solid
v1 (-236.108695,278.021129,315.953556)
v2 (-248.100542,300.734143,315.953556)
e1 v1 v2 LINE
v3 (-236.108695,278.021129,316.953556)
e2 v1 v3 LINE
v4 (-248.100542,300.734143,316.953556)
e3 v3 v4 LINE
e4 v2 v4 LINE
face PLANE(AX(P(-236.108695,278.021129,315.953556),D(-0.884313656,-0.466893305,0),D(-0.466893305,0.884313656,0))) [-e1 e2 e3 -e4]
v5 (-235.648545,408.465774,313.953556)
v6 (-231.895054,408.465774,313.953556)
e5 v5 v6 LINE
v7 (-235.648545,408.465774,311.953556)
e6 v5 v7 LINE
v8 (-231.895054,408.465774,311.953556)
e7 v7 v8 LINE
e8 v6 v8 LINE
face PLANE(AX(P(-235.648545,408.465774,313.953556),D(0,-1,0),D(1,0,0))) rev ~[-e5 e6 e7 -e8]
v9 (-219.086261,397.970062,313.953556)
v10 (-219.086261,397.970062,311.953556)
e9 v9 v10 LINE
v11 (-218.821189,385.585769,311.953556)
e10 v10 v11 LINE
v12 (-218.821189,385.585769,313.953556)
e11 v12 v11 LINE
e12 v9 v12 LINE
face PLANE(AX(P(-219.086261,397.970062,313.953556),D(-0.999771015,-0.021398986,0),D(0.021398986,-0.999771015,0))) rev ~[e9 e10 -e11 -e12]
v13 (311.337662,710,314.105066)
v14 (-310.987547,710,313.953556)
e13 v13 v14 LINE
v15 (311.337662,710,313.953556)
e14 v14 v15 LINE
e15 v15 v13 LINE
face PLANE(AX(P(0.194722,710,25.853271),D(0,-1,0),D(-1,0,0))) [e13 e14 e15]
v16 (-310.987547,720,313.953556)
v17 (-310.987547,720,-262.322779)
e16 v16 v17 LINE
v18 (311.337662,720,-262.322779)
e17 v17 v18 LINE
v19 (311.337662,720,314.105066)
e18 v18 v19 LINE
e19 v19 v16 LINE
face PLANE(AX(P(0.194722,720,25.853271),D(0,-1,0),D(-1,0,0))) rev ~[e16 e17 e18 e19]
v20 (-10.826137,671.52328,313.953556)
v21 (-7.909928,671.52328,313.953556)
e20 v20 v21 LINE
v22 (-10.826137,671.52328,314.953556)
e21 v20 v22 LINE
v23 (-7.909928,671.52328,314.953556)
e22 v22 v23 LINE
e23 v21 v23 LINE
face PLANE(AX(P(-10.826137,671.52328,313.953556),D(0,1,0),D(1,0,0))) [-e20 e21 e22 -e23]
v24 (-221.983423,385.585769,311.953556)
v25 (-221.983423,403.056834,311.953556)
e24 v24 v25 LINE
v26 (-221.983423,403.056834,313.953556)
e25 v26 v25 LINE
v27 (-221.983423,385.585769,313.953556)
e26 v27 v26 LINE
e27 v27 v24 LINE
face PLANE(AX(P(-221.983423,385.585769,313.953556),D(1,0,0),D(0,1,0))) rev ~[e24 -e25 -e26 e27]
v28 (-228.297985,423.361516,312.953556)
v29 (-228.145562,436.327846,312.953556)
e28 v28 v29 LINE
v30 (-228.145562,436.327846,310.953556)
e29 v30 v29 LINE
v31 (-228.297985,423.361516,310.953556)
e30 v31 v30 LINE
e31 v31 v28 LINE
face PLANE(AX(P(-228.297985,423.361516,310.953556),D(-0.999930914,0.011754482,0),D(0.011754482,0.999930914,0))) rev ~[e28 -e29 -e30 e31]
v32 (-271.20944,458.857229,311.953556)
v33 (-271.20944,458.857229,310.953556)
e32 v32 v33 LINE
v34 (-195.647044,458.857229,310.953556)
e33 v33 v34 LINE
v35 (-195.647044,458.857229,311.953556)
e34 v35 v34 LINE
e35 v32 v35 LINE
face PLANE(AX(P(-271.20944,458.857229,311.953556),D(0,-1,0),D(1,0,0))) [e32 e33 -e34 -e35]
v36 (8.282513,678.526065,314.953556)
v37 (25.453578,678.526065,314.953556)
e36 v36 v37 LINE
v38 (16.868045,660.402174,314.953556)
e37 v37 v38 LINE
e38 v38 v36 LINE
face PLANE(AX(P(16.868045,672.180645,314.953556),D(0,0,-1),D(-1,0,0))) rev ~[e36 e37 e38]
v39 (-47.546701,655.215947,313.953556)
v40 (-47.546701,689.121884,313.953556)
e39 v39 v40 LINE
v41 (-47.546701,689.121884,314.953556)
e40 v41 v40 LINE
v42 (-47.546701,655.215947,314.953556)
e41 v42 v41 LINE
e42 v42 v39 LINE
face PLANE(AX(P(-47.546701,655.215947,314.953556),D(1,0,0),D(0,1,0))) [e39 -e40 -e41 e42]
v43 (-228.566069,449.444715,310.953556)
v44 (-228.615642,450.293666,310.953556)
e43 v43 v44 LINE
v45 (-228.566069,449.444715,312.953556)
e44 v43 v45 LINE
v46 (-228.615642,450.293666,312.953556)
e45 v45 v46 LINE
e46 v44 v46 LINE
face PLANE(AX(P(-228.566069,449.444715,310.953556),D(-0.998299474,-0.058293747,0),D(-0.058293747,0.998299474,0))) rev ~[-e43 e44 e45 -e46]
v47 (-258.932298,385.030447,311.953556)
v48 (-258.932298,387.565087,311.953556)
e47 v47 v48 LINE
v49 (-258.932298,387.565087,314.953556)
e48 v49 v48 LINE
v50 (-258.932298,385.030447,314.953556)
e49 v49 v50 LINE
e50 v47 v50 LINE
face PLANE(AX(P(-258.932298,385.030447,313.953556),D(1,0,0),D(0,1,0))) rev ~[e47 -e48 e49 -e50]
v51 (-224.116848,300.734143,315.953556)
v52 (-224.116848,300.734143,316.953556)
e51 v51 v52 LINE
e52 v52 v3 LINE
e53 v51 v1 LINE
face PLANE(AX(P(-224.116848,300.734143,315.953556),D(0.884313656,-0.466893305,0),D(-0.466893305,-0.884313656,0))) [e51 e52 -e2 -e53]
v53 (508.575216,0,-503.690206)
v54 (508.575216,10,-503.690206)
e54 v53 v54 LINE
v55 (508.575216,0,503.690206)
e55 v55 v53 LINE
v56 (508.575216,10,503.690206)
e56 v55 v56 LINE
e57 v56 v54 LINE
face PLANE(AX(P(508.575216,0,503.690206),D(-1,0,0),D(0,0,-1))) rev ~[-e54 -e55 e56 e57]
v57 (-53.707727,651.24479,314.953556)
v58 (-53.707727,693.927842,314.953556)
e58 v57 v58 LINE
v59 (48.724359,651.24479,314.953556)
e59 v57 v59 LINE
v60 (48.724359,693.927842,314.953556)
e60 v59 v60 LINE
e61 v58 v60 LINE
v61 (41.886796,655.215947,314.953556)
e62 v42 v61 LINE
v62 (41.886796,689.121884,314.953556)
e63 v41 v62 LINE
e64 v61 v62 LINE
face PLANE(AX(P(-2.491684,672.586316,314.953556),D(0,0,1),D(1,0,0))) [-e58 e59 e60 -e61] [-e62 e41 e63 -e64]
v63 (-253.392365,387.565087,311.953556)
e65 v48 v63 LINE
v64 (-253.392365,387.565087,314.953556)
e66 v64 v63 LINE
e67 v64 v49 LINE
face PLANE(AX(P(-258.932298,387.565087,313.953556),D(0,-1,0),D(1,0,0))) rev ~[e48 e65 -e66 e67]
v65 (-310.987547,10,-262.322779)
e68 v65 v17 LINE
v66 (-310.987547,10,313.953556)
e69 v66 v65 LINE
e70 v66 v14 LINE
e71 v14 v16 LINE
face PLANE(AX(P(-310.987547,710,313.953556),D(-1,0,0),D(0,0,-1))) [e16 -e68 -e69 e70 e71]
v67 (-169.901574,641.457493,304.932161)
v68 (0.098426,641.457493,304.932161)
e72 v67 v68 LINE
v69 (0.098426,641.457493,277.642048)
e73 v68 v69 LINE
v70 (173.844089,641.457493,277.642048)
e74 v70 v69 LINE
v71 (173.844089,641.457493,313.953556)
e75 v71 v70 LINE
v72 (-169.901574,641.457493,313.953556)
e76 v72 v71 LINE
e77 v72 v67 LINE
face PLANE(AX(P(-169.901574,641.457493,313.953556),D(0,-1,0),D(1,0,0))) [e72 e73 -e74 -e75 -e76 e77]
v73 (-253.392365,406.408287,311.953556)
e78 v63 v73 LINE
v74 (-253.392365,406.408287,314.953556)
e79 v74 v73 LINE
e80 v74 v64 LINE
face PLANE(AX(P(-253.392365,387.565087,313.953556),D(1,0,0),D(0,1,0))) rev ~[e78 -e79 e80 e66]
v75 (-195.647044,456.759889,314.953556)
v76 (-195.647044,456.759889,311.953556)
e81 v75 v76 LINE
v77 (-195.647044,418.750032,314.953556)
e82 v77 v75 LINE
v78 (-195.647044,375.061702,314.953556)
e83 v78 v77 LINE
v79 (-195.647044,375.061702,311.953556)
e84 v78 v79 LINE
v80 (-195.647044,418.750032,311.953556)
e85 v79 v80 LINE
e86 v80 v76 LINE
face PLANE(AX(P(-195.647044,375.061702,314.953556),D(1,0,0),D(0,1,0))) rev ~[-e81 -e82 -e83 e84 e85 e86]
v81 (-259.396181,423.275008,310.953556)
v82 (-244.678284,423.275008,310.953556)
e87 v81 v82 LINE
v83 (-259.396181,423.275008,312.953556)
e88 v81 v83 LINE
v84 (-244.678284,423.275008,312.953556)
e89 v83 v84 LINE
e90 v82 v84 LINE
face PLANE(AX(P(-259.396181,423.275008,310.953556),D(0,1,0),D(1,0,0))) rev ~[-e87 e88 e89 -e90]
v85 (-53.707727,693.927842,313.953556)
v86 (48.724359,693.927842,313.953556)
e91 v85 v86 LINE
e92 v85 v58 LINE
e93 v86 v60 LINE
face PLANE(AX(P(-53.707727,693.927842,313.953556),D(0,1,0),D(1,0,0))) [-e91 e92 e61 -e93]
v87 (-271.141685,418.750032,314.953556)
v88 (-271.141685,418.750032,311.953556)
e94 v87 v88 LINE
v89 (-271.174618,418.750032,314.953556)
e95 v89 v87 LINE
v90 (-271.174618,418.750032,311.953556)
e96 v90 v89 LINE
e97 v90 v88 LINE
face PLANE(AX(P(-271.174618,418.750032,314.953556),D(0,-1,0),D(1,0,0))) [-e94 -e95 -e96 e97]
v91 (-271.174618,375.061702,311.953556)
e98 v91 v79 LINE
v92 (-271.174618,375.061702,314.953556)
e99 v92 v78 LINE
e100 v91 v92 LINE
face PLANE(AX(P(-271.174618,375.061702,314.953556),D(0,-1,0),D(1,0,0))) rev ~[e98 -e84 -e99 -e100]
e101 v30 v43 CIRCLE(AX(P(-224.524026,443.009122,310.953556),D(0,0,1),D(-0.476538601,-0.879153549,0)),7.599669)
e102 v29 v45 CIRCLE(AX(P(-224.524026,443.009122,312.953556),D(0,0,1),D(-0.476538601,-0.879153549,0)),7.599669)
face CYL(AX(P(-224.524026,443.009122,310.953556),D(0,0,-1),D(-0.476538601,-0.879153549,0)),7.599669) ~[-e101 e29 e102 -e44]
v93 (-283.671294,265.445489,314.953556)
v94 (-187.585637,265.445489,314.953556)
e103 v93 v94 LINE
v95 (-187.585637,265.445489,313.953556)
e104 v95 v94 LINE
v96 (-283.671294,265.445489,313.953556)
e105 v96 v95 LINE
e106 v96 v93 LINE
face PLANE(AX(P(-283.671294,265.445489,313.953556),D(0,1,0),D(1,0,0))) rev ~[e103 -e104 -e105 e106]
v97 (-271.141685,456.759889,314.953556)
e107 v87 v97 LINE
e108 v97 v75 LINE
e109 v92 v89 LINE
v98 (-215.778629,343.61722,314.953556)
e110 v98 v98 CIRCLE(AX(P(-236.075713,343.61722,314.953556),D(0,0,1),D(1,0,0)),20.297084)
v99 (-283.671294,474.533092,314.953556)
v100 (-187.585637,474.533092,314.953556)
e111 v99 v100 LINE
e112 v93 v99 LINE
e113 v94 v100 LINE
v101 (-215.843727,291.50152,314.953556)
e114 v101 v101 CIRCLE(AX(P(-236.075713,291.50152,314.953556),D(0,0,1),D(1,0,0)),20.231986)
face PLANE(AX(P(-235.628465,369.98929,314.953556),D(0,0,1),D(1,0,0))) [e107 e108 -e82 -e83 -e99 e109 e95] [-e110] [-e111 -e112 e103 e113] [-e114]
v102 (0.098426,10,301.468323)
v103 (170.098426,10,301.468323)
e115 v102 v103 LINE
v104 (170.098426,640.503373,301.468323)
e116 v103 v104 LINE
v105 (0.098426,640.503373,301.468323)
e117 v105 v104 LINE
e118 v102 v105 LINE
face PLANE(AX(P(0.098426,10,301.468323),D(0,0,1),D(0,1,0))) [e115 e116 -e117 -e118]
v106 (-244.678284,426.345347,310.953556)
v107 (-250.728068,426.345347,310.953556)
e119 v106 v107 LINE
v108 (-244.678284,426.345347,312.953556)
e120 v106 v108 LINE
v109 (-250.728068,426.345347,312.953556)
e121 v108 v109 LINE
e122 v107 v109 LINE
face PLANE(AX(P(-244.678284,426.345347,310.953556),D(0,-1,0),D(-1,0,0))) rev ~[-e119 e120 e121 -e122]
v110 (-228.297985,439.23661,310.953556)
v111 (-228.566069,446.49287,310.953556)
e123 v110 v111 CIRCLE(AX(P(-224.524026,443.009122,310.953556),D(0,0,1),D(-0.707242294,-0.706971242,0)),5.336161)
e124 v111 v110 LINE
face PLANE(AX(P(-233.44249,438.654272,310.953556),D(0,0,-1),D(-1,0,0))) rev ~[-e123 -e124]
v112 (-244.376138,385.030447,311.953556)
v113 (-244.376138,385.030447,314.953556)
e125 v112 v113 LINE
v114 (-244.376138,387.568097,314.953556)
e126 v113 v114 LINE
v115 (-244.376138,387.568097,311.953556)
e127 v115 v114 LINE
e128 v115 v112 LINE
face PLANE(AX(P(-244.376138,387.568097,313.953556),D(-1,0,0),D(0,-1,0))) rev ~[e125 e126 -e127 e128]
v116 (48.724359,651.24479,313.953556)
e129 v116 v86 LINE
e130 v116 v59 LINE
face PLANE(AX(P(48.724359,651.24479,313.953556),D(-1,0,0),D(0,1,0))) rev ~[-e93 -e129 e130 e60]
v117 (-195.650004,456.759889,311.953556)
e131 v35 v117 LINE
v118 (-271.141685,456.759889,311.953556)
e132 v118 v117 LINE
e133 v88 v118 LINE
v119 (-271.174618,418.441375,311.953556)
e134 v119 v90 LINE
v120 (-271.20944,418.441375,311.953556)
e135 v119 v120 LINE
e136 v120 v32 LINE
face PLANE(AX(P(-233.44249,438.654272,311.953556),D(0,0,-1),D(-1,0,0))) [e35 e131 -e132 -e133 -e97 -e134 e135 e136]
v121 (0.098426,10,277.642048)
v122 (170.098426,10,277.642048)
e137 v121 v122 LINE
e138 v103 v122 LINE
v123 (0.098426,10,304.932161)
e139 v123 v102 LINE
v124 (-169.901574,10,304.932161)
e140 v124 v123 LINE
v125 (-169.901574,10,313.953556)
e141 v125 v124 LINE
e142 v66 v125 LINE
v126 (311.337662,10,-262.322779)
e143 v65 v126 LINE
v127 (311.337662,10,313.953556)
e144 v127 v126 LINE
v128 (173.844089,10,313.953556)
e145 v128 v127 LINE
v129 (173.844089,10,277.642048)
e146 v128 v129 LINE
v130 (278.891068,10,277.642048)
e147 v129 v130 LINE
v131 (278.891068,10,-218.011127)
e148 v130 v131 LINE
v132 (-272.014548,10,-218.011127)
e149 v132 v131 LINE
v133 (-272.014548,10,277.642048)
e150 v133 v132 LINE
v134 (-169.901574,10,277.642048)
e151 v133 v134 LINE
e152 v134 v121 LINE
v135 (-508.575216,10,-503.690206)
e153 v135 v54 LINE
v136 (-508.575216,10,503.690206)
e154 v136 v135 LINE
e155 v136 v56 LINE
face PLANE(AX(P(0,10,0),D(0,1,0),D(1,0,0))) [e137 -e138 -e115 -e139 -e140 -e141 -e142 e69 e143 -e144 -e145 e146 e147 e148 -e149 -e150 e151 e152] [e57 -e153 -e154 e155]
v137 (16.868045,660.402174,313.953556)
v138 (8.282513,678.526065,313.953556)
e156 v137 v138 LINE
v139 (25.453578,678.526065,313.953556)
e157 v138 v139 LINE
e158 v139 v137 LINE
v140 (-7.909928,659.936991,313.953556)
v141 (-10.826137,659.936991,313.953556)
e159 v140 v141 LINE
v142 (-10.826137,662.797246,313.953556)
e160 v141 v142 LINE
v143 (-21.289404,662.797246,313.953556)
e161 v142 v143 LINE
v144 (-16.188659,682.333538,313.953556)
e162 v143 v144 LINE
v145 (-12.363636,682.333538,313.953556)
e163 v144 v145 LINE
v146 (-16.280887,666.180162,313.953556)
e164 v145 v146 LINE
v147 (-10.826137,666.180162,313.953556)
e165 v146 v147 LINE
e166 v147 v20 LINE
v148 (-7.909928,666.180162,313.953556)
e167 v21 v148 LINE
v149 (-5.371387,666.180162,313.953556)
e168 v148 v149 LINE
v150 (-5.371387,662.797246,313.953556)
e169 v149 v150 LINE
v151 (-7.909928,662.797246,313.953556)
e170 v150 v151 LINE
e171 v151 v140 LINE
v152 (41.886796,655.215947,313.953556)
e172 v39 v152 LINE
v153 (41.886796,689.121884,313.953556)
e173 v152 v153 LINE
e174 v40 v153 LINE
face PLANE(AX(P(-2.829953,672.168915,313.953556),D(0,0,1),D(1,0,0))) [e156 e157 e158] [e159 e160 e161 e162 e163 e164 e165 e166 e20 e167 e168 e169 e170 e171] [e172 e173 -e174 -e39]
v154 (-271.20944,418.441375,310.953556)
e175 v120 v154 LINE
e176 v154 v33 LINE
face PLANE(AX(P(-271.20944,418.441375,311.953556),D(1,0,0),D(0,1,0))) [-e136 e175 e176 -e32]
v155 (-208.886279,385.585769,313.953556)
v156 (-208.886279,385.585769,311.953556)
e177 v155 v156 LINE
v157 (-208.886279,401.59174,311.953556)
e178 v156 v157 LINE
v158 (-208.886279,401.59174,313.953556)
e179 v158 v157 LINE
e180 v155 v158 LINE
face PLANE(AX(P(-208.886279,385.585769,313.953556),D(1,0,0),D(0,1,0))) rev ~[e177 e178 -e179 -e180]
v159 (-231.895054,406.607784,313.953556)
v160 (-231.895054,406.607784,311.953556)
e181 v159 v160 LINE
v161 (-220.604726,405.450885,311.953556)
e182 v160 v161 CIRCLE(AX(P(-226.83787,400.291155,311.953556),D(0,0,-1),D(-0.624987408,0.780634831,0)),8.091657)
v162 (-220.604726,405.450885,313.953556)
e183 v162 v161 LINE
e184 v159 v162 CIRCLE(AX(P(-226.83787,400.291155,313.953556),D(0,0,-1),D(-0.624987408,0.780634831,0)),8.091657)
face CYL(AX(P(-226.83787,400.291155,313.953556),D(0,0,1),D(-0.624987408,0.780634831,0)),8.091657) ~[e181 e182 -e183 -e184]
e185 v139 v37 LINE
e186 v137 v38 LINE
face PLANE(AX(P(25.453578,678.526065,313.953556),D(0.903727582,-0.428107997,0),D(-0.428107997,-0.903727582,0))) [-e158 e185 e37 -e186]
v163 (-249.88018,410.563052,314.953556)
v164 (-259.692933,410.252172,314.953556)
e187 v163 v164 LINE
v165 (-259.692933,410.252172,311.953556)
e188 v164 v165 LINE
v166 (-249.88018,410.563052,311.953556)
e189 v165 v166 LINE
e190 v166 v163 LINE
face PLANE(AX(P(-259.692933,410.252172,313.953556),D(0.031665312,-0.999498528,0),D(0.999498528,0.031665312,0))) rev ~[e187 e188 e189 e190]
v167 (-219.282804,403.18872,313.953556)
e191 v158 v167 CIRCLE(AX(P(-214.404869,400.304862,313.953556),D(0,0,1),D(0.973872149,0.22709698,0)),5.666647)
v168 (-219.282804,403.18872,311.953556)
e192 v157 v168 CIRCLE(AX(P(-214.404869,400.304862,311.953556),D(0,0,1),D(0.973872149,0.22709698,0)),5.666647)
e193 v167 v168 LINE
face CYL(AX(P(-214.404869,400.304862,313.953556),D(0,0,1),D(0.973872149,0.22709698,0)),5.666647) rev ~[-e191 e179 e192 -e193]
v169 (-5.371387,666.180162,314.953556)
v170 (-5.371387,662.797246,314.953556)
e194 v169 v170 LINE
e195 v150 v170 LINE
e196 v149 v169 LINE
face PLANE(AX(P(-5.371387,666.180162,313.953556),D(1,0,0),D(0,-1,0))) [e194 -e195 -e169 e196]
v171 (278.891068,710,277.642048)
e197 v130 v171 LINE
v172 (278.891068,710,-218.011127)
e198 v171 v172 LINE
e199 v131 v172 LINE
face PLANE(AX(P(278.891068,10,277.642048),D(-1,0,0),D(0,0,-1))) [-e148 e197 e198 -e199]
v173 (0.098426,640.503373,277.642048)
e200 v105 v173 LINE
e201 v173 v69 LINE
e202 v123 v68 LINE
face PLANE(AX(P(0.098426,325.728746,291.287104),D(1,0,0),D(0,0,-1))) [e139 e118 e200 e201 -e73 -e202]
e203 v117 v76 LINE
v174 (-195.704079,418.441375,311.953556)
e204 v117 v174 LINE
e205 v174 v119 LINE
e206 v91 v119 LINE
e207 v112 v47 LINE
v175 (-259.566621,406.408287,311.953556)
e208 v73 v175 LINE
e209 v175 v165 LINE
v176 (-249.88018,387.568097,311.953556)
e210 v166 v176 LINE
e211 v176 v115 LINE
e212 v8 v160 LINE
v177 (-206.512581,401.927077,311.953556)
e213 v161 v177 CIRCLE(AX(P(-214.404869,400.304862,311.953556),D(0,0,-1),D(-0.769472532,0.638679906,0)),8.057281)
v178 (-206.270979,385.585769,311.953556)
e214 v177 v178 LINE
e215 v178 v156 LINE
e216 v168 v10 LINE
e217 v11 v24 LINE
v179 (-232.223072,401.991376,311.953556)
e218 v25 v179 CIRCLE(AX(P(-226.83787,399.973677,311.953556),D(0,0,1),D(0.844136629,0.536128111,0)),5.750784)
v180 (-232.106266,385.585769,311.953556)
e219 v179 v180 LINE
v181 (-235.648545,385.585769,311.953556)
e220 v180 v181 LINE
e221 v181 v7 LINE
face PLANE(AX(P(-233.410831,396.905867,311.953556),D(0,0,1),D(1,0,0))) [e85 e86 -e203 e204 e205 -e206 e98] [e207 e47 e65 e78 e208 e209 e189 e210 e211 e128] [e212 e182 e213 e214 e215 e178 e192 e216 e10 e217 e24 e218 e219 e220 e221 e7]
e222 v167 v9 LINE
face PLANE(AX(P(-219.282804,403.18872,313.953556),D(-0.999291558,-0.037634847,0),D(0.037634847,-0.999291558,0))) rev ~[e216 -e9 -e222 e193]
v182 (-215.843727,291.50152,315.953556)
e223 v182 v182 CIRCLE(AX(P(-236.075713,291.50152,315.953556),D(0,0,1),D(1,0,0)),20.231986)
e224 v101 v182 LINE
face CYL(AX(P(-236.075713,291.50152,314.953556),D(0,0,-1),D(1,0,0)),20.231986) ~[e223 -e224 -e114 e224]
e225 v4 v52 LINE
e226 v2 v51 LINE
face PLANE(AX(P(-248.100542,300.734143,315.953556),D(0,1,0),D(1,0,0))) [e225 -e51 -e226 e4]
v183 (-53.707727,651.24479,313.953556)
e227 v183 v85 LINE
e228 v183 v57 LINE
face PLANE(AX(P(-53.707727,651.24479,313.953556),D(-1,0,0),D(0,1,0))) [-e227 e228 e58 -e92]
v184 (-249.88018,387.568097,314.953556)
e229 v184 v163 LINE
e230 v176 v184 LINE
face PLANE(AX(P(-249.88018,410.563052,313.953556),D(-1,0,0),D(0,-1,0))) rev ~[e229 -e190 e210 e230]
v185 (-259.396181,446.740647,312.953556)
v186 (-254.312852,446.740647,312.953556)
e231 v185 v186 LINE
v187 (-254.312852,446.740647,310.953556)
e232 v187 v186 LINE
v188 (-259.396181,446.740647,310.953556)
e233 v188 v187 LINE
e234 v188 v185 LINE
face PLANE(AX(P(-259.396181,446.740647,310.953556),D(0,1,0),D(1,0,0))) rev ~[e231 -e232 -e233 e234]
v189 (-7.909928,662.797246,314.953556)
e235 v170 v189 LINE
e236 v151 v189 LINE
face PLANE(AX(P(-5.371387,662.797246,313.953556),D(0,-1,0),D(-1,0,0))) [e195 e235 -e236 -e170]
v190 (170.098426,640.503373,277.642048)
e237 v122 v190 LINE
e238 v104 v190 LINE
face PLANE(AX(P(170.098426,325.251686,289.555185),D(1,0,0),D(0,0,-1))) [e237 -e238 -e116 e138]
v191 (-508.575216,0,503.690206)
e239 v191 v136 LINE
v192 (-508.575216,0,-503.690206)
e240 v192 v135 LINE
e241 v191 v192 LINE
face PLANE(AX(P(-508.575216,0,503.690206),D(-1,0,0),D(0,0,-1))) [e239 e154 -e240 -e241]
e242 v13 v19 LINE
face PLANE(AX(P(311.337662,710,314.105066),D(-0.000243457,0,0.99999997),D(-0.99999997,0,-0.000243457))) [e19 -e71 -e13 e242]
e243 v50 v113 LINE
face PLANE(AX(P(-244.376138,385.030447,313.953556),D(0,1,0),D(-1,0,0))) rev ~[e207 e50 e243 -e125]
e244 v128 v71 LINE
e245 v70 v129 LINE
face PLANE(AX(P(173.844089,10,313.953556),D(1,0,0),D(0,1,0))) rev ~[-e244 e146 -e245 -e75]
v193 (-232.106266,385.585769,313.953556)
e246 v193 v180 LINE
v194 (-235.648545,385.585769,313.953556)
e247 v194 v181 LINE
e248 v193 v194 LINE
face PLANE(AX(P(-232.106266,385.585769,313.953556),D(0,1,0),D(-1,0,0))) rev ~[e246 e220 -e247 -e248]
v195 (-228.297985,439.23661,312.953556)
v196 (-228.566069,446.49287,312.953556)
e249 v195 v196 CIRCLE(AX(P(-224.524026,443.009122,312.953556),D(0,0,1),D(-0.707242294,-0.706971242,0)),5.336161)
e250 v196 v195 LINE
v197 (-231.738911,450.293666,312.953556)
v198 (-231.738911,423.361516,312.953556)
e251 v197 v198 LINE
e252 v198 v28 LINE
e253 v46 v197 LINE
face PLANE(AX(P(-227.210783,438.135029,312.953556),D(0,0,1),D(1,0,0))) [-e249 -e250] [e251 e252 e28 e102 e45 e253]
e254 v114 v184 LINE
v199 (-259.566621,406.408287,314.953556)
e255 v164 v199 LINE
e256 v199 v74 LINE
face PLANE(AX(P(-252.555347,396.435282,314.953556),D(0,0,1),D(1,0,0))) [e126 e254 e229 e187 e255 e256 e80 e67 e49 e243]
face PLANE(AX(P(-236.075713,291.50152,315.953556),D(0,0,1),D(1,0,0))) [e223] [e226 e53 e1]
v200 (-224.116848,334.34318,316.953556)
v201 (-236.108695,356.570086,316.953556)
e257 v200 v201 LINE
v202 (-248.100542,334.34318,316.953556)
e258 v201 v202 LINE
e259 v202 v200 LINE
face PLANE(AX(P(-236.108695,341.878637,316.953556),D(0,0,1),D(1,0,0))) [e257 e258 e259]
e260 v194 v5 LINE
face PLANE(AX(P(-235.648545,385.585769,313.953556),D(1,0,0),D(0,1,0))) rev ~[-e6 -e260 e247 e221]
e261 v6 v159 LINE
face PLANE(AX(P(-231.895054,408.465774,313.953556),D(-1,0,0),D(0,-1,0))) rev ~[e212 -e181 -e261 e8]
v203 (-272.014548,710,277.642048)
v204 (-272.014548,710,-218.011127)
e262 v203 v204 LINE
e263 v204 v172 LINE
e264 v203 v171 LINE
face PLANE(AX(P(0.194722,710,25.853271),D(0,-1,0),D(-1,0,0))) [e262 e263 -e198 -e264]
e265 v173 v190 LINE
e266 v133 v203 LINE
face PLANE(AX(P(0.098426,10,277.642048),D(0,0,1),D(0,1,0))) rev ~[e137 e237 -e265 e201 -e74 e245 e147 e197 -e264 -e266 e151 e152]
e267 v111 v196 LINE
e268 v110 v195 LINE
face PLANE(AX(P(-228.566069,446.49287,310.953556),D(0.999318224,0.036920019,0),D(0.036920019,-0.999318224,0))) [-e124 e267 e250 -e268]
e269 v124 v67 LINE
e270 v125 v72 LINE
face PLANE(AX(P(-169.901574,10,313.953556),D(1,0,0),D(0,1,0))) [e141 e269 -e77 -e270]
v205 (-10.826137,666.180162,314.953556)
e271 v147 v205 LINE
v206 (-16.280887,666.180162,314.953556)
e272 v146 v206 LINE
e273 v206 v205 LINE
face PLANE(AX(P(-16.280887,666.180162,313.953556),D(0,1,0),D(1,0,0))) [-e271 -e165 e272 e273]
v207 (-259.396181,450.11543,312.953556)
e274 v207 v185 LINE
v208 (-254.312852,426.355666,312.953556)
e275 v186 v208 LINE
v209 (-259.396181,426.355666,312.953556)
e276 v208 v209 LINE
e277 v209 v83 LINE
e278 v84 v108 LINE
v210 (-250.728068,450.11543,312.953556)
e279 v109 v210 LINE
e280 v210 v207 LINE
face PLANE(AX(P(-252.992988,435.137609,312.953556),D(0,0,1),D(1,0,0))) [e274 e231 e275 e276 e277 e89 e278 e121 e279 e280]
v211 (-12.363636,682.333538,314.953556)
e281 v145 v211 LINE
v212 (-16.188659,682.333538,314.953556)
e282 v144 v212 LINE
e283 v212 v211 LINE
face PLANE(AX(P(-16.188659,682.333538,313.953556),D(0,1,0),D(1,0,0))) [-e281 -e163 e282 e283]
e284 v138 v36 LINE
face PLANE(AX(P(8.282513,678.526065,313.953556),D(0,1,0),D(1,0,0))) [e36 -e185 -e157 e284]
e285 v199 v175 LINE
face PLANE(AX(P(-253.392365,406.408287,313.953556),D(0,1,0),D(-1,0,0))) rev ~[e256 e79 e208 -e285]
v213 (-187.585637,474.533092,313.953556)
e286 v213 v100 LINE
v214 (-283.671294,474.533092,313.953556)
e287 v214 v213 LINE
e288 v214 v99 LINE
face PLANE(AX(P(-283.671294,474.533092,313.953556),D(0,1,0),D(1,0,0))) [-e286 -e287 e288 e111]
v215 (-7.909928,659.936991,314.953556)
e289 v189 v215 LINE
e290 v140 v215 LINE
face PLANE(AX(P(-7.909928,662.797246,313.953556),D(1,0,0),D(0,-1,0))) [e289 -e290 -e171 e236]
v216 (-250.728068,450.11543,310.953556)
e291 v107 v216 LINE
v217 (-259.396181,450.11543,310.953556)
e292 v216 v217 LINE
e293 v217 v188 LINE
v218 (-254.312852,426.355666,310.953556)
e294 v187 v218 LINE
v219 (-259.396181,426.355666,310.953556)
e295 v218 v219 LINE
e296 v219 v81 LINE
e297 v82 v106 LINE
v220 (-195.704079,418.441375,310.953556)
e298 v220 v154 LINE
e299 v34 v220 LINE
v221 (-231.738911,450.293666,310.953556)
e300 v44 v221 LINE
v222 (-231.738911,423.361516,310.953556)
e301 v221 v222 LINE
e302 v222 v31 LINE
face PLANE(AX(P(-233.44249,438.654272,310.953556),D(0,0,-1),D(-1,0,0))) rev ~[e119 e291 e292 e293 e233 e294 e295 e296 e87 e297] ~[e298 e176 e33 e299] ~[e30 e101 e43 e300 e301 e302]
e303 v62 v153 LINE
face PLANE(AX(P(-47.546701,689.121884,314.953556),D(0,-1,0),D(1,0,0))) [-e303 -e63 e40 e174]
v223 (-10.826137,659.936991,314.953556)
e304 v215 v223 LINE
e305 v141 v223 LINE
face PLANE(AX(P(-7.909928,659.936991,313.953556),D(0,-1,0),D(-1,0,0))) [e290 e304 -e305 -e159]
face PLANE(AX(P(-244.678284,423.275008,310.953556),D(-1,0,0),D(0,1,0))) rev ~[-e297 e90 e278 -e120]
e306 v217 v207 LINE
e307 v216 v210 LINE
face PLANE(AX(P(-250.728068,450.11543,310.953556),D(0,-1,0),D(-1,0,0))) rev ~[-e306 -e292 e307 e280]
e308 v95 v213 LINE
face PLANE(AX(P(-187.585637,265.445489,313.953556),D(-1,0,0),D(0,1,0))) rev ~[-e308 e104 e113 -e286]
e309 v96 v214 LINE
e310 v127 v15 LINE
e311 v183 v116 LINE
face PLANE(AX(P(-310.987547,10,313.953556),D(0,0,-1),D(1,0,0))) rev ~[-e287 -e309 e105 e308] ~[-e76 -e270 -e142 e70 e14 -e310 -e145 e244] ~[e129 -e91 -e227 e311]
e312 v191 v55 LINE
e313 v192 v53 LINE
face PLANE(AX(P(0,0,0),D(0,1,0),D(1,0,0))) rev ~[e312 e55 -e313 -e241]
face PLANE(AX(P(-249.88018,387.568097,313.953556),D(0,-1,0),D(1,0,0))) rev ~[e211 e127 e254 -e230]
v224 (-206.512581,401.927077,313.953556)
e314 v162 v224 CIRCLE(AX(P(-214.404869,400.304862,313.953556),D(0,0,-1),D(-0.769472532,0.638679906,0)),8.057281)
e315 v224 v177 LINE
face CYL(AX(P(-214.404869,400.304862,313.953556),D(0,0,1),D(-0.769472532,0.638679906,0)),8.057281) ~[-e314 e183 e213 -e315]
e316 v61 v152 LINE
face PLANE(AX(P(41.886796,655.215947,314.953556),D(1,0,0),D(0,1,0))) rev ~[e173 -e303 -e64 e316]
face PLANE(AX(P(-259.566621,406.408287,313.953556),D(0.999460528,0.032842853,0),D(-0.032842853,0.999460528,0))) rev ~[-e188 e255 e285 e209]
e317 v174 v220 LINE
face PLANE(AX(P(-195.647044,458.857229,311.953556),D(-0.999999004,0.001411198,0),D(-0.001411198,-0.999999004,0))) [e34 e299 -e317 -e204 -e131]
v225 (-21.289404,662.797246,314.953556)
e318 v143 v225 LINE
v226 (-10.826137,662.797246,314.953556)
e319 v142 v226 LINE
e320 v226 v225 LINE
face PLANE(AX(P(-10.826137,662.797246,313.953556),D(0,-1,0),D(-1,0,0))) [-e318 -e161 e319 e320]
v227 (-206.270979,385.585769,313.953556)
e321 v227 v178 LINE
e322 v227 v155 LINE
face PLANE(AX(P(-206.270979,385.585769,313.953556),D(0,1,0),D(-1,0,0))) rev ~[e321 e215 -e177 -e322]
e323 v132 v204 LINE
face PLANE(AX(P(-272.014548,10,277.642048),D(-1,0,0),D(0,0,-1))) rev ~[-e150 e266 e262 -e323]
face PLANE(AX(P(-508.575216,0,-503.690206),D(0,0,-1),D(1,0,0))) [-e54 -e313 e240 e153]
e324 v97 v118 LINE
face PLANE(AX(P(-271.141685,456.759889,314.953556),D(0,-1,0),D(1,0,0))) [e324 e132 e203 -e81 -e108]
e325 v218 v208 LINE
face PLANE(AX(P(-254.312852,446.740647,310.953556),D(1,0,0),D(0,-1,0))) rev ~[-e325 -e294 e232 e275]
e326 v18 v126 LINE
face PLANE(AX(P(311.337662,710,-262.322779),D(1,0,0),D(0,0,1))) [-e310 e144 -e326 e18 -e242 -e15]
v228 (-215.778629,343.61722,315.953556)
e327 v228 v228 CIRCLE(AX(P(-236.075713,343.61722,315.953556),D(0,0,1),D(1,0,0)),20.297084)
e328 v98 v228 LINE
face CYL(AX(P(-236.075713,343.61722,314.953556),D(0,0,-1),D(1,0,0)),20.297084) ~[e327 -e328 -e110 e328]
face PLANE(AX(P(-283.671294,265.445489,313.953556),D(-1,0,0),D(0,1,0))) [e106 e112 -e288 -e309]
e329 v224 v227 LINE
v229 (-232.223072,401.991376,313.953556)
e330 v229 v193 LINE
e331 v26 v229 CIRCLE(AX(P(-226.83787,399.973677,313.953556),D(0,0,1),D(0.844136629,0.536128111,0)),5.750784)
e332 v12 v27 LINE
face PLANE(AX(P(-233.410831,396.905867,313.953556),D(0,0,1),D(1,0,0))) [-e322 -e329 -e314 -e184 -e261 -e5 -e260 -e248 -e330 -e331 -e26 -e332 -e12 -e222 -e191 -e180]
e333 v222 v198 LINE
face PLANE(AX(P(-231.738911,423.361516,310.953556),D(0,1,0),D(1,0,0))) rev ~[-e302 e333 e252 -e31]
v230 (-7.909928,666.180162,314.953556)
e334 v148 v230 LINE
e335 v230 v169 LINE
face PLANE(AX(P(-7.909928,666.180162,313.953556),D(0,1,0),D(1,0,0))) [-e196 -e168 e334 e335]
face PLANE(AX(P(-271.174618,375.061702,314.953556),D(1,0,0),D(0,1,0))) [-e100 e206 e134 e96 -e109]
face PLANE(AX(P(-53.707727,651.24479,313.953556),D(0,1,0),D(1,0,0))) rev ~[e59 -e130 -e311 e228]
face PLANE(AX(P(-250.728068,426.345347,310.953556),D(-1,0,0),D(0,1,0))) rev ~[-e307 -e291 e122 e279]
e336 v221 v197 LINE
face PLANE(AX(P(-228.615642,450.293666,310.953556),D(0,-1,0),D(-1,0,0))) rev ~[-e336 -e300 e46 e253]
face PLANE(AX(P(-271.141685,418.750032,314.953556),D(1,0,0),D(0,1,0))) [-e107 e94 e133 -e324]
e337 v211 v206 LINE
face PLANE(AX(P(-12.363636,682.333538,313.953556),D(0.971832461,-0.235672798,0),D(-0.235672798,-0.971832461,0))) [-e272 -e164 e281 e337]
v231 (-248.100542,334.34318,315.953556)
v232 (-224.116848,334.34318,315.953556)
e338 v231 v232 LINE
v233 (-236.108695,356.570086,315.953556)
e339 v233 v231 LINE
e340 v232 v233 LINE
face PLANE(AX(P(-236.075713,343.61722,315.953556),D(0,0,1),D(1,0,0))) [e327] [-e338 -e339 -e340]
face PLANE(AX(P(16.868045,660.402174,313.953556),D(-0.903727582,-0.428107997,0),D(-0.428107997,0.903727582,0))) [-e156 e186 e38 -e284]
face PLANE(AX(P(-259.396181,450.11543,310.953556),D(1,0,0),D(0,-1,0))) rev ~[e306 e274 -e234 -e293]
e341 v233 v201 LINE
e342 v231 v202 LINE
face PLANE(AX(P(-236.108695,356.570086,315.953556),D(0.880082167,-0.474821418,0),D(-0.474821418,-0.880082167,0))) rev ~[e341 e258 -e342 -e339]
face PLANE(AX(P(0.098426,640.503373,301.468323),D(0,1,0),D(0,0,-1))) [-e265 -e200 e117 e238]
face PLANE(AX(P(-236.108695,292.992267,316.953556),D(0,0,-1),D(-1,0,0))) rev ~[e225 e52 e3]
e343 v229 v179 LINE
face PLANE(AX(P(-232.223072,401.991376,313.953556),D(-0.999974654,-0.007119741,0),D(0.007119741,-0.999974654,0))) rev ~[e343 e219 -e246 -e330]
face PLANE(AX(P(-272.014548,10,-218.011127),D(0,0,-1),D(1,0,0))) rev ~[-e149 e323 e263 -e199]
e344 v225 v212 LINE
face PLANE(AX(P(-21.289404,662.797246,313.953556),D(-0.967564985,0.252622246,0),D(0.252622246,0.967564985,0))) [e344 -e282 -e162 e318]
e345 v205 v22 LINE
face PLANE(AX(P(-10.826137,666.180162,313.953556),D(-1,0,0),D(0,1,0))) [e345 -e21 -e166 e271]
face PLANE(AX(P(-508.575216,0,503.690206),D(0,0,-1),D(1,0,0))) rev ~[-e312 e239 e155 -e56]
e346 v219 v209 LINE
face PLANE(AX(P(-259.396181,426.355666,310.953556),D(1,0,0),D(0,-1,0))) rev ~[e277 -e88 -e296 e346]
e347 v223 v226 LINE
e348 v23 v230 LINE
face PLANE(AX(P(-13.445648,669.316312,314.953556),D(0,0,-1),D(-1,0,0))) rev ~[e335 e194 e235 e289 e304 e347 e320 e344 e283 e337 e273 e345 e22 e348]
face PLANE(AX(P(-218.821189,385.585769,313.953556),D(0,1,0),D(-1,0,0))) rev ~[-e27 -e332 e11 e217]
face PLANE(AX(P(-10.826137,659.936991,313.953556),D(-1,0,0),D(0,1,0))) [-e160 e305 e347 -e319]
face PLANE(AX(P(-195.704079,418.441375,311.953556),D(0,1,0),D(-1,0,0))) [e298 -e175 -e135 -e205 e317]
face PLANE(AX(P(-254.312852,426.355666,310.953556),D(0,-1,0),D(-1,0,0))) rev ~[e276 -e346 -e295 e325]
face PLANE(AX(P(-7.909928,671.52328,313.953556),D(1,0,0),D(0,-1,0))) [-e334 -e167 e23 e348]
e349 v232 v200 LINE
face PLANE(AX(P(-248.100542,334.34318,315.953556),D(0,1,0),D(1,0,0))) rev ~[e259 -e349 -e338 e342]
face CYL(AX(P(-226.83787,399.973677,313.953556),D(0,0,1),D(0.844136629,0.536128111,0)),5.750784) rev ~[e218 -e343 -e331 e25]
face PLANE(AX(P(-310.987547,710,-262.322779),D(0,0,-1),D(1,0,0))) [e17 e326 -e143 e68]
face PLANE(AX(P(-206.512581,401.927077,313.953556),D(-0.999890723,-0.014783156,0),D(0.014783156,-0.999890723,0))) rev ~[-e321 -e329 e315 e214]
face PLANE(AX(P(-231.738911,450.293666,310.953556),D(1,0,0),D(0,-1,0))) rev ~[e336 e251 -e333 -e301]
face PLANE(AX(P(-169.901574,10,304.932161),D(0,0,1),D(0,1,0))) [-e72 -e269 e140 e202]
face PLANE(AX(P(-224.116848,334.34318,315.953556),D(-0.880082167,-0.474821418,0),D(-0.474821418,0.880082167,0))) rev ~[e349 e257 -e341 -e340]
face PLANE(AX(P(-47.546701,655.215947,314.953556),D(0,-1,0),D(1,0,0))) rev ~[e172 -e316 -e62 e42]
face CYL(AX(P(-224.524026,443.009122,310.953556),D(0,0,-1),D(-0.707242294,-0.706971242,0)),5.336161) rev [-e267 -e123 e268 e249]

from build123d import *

# Parameters (mm, degrees)
SKETCH1_W            = 1017.150431592
SKETCH1_H            = 1007.380411388
BOSS_EXTRUDE1_DEPTH  = 10
SKETCH2_W            = 622.325209365
SKETCH2_H            = 576.276335175
SKETCH2_W_2          = 550.905616221
SKETCH2_H_2          = 495.653174758
BOSS_EXTRUDE2_DEPTH  = 700
BOSS_EXTRUDE3_DEPTH  = 10
SKETCH4_W            = 343.745663019
SKETCH4_H            = 631.457492732
CUT_EXTRUDE1_DEPTH   = 40
SKETCH5_W            = 96.085656893
SKETCH5_H            = 209.087602639
BOSS_EXTRUDE4_DEPTH  = 1
SKETCH6_W            = 75.527574186
SKETCH6_H            = 43.688329808
CUT_EXTRUDE2_DEPTH   = 1
SKETCH7_R            = 20.29708438
SKETCH7_R_2          = 20.231985555
BOSS_EXTRUDE5_DEPTH  = 1
BOSS_EXTRUDE6_DEPTH  = 1
SKETCH9_W            = 27.290112983
SKETCH9_H            = 631.457492732
BOSS_EXTRUDE7_DEPTH  = 170
SKETCH10_W           = 23.826275683
SKETCH10_H           = 630.503372623
BOSS_EXTRUDE8_DEPTH  = 170
SKETCH11_W           = 102.432085561
SKETCH11_H           = 42.683052162
BOSS_EXTRUDE9_DEPTH  = 1
SKETCH12_W           = 89.43349782
SKETCH12_H           = 33.905937228
CUT_EXTRUDE3_DEPTH   = 1
BOSS_EXTRUDE10_DEPTH = 1
BOSS_EXTRUDE11_DEPTH = 1
BOSS_EXTRUDE12_DEPTH = 1
SKETCH16_W           = 75.527574186
SKETCH16_H           = 43.688329808
CUT_EXTRUDE4_DEPTH   = 2
CUT_EXTRUDE5_DEPTH   = 1
SKETCH18_W           = 75.494640665
SKETCH18_H           = 38.009856791
CUT_EXTRUDE6_DEPTH   = 3
BOSS_EXTRUDE14_DEPTH = 2
BOSS_EXTRUDE15_DEPTH = 2


with BuildPart() as part:
    # Sketch1 → Boss-Extrude1 (new body)
    with BuildSketch(Plane(origin=(0, 0, 0), x_dir=(1, 0, 0), z_dir=(0, 1, 0))):
        Rectangle(SKETCH1_W, SKETCH1_H)
    extrude(amount=BOSS_EXTRUDE1_DEPTH)

    # Sketch2 → Boss-Extrude2 (add)
    with BuildSketch(Plane(origin=(0, 10, 0), x_dir=(1, 0, 0), z_dir=(0, 1, 0))):
        with Locations((0.175057265, -25.815388539)):
            Rectangle(SKETCH2_W, SKETCH2_H)
        with Locations((3.438260109, -29.815460152)):
            Rectangle(SKETCH2_W_2, SKETCH2_H_2, mode=Mode.SUBTRACT)
    extrude(amount=BOSS_EXTRUDE2_DEPTH)

    # Sketch3 → Boss-Extrude3 (add)
    with BuildSketch(Plane(origin=(0, 710, 0), x_dir=(1, 0, 0), z_dir=(0, 1, 0))):
        Polygon((-310.987547417, 262.322779049), (311.337661948, 262.322779049), (311.337661948, -314.105065769), (-310.987547417, -313.953556126), align=None)
    extrude(amount=BOSS_EXTRUDE3_DEPTH)

    # Sketch4 → Cut-Extrude1 (cut)
    with BuildSketch(Plane.XY.offset(313.953556126)):
        with Locations((1.971257292, 325.728746366)):
            Rectangle(SKETCH4_W, SKETCH4_H)
    extrude(amount=-CUT_EXTRUDE1_DEPTH, mode=Mode.SUBTRACT)

    # Sketch5 → Boss-Extrude4 (add)
    with BuildSketch(Plane.XY.offset(313.953556126)):
        with Locations((-235.628465158, 369.989290471)):
            Rectangle(SKETCH5_W, SKETCH5_H)
    extrude(amount=BOSS_EXTRUDE4_DEPTH)

    # Sketch6 → Cut-Extrude2 (cut)
    with BuildSketch(Plane.XY.offset(314.953556126)):
        with Locations((-233.410831007, 396.905866965)):
            Rectangle(SKETCH6_W, SKETCH6_H)
    extrude(amount=-CUT_EXTRUDE2_DEPTH, mode=Mode.SUBTRACT)

    # Sketch7 → Boss-Extrude5 (add)
    with BuildSketch(Plane.XY.offset(314.953556126)):
        with Locations((-236.075713016, 343.617219623)):
            Circle(SKETCH7_R)
        with Locations((-236.075713016, 291.501520139)):
            Circle(SKETCH7_R_2)
    extrude(amount=BOSS_EXTRUDE5_DEPTH)

    # Sketch8 → Boss-Extrude6 (add)
    with BuildSketch(Plane.XY.offset(315.953556126)):
        Polygon((-248.100542069, 334.343180385), (-224.116847865, 334.343180385), (-236.108694967, 356.570085863), align=None)
        Polygon((-248.100542069, 300.734143469), (-224.116847865, 300.734143469), (-236.108694967, 278.021129489), align=None)
    extrude(amount=BOSS_EXTRUDE6_DEPTH)

    # Sketch9 → Boss-Extrude7 (add)
    with BuildSketch(Plane(origin=(-169.901574217, 0, 0), x_dir=(0, 0, -1), z_dir=(1, 0, 0))):
        with Locations((-291.287104022, 325.728746366)):
            Rectangle(SKETCH9_W, SKETCH9_H)
    extrude(amount=BOSS_EXTRUDE7_DEPTH)

    # Sketch10 → Boss-Extrude8 (add)
    with BuildSketch(Plane(origin=(0.098425783, 0, 0), x_dir=(0, 0, -1), z_dir=(1, 0, 0))):
        with Locations((-289.555185372, 325.251686312)):
            Rectangle(SKETCH10_W, SKETCH10_H)
    extrude(amount=BOSS_EXTRUDE8_DEPTH)

    # Sketch11 → Boss-Extrude9 (add)
    with BuildSketch(Plane.XY.offset(313.953556126)):
        with Locations((-2.491684156, 672.586316149)):
            Rectangle(SKETCH11_W, SKETCH11_H)
    extrude(amount=BOSS_EXTRUDE9_DEPTH)

    # Sketch12 → Cut-Extrude3 (cut)
    with BuildSketch(Plane.XY.offset(314.953556126)):
        with Locations((-2.82995258, 672.168915251)):
            Rectangle(SKETCH12_W, SKETCH12_H)
    extrude(amount=-CUT_EXTRUDE3_DEPTH, mode=Mode.SUBTRACT)

    # Sketch13 → Boss-Extrude10 (add)
    with BuildSketch(Plane.XY.offset(313.953556126)):
        Polygon((-16.188659158, 682.333537789), (-12.363636267, 682.333537789), (-16.280886962, 666.180161515), (-10.826136902, 666.180161515), (-10.826136902, 671.523280071), (-7.909927509, 671.523280071), (-7.909927509, 666.180161515), (-5.371386842, 666.180161515), (-5.371386842, 662.797245592), (-7.909927509, 662.797245592), (-7.909927509, 659.936990738), (-10.826136902, 659.936990738), (-10.826136902, 662.797245592), (-21.28940391, 662.797245592), align=None)
    extrude(amount=BOSS_EXTRUDE10_DEPTH)

    # Sketch14 → Boss-Extrude11 (add)
    with BuildSketch(Plane.XY.offset(313.953556126)):
        Polygon((8.28251296, 678.526064939), (25.453577984, 678.526064939), (16.868045472, 660.40217423), align=None)
    extrude(amount=BOSS_EXTRUDE11_DEPTH)

    # Sketch15 → Boss-Extrude12 (add)
    with BuildSketch(Plane.XY.offset(313.953556126)):
        Polygon((-253.392365097, 406.408287302), (-253.392365097, 387.565087067), (-258.932297981, 387.565087067), (-258.932297981, 385.030446751), (-244.376138332, 385.030446751), (-244.376138332, 387.568096861), (-249.880180429, 387.568096861), (-249.880180429, 410.563051887), (-259.692933011, 410.252172121), (-259.566620724, 406.408287302), align=None)
    extrude(amount=BOSS_EXTRUDE12_DEPTH)

    # Sketch16 → Cut-Extrude4 (cut)
    with BuildSketch(Plane.XY.offset(313.953556126)):
        with Locations((-233.410831007, 396.905866965)):
            Rectangle(SKETCH16_W, SKETCH16_H)
        Polygon((-258.932297981, 387.565087067), (-253.392365097, 387.565087067), (-253.392365097, 406.408287302), (-259.566620724, 406.408287302), (-259.692933011, 410.252172121), (-249.880180429, 410.563051887), (-249.880180429, 387.568096861), (-244.376138332, 387.568096861), (-244.376138332, 385.030446751), (-258.932297981, 385.030446751), align=None, mode=Mode.SUBTRACT)
        with BuildLine():
            Line((-235.648545177, 385.585769087), (-235.648545177, 408.465773981))
            Line((-235.648545177, 408.465773981), (-231.895053527, 408.465773981))
            Line((-231.895053527, 408.465773981), (-231.895053527, 406.607783771))
            ThreePointArc((-231.895053527, 406.607783771), (-226.013052079, 408.340663022), (-220.604725505, 405.450885314))
            ThreePointArc((-220.604725505, 405.450885314), (-212.450287881, 408.121471894), (-206.512581436, 401.927077024))
            Line((-206.512581436, 401.927077024), (-206.270978925, 385.585769087))
            Line((-206.270978925, 385.585769087), (-208.886279481, 385.585769087))
            Line((-208.886279481, 385.585769087), (-208.886279481, 401.591739947))
            ThreePointArc((-208.886279481, 401.591739947), (-213.544522639, 405.905815865), (-219.282803566, 403.188719557))
            Line((-219.282803566, 403.188719557), (-219.086260967, 397.970062451))
            Line((-219.086260967, 397.970062451), (-218.821188952, 385.585769087))
            Line((-218.821188952, 385.585769087), (-221.983422689, 385.585769087))
            Line((-221.983422689, 385.585769087), (-221.983422689, 403.056833873))
            ThreePointArc((-221.983422689, 403.056833873), (-227.433038153, 405.693579889), (-232.223072214, 401.991376226))
            Line((-232.223072214, 401.991376226), (-232.106265572, 385.585769087))
            Line((-232.106265572, 385.585769087), (-235.648545177, 385.585769087))
        make_face(mode=Mode.SUBTRACT)
    extrude(amount=-CUT_EXTRUDE4_DEPTH, mode=Mode.SUBTRACT)

    # Sketch17 → Cut-Extrude5 (cut)
    with BuildSketch(Plane.XY.offset(311.953556126)):
        Polygon((-271.209439503, 458.857228745), (-195.647043914, 458.857228745), (-195.704078741, 418.44137546), (-271.209439503, 418.44137546), align=None)
    extrude(amount=-CUT_EXTRUDE5_DEPTH, mode=Mode.SUBTRACT)

    # Sketch18 → Cut-Extrude6 (cut)
    with BuildSketch(Plane.XY.offset(314.953556126)):
        with Locations((-233.394364247, 437.754960265)):
            Rectangle(SKETCH18_W, SKETCH18_H)
    extrude(amount=-CUT_EXTRUDE6_DEPTH, mode=Mode.SUBTRACT)

    # Sketch19 → Boss-Extrude14 (add)
    with BuildSketch(Plane.XY.offset(310.953556126)):
        Polygon((-254.312852224, 446.740647117), (-254.312852224, 426.35566573), (-259.396180858, 426.35566573), (-259.396180858, 423.275008449), (-244.678284124, 423.275008449), (-244.678284124, 426.345347073), (-250.728067912, 426.345347073), (-250.728067912, 450.11543046), (-259.396180858, 450.11543046), (-259.396180858, 446.740647117), align=None)
    extrude(amount=BOSS_EXTRUDE14_DEPTH)

    # Sketch20 → Boss-Extrude15 (add)
    with BuildSketch(Plane.XY.offset(310.953556126)):
        with BuildLine():
            Line((-231.738910846, 449.836701393), (-231.738910846, 423.361516406))
            Line((-231.738910846, 423.361516406), (-228.297984767, 423.361516406))
            Line((-228.297984767, 423.361516406), (-228.145561752, 436.327846212))
            ThreePointArc((-228.145561752, 436.327846212), (-216.928259639, 443.252630869), (-228.56606882, 449.444715067))
            Line((-228.56606882, 449.444715067), (-228.61564163, 450.293665645))
            Line((-228.61564163, 450.293665645), (-231.738910846, 450.293665645))
            Line((-231.738910846, 450.293665645), (-231.738910846, 449.836701393))
        make_face()
        with BuildLine():
            Line((-228.56606882, 446.492870427), (-228.297984767, 439.236609845))
            ThreePointArc((-228.297984767, 439.236609845), (-219.191503534, 443.206133185), (-228.56606882, 446.492870427))
        make_face(mode=Mode.SUBTRACT)
    extrude(amount=BOSS_EXTRUDE15_DEPTH)


solid = part.part
